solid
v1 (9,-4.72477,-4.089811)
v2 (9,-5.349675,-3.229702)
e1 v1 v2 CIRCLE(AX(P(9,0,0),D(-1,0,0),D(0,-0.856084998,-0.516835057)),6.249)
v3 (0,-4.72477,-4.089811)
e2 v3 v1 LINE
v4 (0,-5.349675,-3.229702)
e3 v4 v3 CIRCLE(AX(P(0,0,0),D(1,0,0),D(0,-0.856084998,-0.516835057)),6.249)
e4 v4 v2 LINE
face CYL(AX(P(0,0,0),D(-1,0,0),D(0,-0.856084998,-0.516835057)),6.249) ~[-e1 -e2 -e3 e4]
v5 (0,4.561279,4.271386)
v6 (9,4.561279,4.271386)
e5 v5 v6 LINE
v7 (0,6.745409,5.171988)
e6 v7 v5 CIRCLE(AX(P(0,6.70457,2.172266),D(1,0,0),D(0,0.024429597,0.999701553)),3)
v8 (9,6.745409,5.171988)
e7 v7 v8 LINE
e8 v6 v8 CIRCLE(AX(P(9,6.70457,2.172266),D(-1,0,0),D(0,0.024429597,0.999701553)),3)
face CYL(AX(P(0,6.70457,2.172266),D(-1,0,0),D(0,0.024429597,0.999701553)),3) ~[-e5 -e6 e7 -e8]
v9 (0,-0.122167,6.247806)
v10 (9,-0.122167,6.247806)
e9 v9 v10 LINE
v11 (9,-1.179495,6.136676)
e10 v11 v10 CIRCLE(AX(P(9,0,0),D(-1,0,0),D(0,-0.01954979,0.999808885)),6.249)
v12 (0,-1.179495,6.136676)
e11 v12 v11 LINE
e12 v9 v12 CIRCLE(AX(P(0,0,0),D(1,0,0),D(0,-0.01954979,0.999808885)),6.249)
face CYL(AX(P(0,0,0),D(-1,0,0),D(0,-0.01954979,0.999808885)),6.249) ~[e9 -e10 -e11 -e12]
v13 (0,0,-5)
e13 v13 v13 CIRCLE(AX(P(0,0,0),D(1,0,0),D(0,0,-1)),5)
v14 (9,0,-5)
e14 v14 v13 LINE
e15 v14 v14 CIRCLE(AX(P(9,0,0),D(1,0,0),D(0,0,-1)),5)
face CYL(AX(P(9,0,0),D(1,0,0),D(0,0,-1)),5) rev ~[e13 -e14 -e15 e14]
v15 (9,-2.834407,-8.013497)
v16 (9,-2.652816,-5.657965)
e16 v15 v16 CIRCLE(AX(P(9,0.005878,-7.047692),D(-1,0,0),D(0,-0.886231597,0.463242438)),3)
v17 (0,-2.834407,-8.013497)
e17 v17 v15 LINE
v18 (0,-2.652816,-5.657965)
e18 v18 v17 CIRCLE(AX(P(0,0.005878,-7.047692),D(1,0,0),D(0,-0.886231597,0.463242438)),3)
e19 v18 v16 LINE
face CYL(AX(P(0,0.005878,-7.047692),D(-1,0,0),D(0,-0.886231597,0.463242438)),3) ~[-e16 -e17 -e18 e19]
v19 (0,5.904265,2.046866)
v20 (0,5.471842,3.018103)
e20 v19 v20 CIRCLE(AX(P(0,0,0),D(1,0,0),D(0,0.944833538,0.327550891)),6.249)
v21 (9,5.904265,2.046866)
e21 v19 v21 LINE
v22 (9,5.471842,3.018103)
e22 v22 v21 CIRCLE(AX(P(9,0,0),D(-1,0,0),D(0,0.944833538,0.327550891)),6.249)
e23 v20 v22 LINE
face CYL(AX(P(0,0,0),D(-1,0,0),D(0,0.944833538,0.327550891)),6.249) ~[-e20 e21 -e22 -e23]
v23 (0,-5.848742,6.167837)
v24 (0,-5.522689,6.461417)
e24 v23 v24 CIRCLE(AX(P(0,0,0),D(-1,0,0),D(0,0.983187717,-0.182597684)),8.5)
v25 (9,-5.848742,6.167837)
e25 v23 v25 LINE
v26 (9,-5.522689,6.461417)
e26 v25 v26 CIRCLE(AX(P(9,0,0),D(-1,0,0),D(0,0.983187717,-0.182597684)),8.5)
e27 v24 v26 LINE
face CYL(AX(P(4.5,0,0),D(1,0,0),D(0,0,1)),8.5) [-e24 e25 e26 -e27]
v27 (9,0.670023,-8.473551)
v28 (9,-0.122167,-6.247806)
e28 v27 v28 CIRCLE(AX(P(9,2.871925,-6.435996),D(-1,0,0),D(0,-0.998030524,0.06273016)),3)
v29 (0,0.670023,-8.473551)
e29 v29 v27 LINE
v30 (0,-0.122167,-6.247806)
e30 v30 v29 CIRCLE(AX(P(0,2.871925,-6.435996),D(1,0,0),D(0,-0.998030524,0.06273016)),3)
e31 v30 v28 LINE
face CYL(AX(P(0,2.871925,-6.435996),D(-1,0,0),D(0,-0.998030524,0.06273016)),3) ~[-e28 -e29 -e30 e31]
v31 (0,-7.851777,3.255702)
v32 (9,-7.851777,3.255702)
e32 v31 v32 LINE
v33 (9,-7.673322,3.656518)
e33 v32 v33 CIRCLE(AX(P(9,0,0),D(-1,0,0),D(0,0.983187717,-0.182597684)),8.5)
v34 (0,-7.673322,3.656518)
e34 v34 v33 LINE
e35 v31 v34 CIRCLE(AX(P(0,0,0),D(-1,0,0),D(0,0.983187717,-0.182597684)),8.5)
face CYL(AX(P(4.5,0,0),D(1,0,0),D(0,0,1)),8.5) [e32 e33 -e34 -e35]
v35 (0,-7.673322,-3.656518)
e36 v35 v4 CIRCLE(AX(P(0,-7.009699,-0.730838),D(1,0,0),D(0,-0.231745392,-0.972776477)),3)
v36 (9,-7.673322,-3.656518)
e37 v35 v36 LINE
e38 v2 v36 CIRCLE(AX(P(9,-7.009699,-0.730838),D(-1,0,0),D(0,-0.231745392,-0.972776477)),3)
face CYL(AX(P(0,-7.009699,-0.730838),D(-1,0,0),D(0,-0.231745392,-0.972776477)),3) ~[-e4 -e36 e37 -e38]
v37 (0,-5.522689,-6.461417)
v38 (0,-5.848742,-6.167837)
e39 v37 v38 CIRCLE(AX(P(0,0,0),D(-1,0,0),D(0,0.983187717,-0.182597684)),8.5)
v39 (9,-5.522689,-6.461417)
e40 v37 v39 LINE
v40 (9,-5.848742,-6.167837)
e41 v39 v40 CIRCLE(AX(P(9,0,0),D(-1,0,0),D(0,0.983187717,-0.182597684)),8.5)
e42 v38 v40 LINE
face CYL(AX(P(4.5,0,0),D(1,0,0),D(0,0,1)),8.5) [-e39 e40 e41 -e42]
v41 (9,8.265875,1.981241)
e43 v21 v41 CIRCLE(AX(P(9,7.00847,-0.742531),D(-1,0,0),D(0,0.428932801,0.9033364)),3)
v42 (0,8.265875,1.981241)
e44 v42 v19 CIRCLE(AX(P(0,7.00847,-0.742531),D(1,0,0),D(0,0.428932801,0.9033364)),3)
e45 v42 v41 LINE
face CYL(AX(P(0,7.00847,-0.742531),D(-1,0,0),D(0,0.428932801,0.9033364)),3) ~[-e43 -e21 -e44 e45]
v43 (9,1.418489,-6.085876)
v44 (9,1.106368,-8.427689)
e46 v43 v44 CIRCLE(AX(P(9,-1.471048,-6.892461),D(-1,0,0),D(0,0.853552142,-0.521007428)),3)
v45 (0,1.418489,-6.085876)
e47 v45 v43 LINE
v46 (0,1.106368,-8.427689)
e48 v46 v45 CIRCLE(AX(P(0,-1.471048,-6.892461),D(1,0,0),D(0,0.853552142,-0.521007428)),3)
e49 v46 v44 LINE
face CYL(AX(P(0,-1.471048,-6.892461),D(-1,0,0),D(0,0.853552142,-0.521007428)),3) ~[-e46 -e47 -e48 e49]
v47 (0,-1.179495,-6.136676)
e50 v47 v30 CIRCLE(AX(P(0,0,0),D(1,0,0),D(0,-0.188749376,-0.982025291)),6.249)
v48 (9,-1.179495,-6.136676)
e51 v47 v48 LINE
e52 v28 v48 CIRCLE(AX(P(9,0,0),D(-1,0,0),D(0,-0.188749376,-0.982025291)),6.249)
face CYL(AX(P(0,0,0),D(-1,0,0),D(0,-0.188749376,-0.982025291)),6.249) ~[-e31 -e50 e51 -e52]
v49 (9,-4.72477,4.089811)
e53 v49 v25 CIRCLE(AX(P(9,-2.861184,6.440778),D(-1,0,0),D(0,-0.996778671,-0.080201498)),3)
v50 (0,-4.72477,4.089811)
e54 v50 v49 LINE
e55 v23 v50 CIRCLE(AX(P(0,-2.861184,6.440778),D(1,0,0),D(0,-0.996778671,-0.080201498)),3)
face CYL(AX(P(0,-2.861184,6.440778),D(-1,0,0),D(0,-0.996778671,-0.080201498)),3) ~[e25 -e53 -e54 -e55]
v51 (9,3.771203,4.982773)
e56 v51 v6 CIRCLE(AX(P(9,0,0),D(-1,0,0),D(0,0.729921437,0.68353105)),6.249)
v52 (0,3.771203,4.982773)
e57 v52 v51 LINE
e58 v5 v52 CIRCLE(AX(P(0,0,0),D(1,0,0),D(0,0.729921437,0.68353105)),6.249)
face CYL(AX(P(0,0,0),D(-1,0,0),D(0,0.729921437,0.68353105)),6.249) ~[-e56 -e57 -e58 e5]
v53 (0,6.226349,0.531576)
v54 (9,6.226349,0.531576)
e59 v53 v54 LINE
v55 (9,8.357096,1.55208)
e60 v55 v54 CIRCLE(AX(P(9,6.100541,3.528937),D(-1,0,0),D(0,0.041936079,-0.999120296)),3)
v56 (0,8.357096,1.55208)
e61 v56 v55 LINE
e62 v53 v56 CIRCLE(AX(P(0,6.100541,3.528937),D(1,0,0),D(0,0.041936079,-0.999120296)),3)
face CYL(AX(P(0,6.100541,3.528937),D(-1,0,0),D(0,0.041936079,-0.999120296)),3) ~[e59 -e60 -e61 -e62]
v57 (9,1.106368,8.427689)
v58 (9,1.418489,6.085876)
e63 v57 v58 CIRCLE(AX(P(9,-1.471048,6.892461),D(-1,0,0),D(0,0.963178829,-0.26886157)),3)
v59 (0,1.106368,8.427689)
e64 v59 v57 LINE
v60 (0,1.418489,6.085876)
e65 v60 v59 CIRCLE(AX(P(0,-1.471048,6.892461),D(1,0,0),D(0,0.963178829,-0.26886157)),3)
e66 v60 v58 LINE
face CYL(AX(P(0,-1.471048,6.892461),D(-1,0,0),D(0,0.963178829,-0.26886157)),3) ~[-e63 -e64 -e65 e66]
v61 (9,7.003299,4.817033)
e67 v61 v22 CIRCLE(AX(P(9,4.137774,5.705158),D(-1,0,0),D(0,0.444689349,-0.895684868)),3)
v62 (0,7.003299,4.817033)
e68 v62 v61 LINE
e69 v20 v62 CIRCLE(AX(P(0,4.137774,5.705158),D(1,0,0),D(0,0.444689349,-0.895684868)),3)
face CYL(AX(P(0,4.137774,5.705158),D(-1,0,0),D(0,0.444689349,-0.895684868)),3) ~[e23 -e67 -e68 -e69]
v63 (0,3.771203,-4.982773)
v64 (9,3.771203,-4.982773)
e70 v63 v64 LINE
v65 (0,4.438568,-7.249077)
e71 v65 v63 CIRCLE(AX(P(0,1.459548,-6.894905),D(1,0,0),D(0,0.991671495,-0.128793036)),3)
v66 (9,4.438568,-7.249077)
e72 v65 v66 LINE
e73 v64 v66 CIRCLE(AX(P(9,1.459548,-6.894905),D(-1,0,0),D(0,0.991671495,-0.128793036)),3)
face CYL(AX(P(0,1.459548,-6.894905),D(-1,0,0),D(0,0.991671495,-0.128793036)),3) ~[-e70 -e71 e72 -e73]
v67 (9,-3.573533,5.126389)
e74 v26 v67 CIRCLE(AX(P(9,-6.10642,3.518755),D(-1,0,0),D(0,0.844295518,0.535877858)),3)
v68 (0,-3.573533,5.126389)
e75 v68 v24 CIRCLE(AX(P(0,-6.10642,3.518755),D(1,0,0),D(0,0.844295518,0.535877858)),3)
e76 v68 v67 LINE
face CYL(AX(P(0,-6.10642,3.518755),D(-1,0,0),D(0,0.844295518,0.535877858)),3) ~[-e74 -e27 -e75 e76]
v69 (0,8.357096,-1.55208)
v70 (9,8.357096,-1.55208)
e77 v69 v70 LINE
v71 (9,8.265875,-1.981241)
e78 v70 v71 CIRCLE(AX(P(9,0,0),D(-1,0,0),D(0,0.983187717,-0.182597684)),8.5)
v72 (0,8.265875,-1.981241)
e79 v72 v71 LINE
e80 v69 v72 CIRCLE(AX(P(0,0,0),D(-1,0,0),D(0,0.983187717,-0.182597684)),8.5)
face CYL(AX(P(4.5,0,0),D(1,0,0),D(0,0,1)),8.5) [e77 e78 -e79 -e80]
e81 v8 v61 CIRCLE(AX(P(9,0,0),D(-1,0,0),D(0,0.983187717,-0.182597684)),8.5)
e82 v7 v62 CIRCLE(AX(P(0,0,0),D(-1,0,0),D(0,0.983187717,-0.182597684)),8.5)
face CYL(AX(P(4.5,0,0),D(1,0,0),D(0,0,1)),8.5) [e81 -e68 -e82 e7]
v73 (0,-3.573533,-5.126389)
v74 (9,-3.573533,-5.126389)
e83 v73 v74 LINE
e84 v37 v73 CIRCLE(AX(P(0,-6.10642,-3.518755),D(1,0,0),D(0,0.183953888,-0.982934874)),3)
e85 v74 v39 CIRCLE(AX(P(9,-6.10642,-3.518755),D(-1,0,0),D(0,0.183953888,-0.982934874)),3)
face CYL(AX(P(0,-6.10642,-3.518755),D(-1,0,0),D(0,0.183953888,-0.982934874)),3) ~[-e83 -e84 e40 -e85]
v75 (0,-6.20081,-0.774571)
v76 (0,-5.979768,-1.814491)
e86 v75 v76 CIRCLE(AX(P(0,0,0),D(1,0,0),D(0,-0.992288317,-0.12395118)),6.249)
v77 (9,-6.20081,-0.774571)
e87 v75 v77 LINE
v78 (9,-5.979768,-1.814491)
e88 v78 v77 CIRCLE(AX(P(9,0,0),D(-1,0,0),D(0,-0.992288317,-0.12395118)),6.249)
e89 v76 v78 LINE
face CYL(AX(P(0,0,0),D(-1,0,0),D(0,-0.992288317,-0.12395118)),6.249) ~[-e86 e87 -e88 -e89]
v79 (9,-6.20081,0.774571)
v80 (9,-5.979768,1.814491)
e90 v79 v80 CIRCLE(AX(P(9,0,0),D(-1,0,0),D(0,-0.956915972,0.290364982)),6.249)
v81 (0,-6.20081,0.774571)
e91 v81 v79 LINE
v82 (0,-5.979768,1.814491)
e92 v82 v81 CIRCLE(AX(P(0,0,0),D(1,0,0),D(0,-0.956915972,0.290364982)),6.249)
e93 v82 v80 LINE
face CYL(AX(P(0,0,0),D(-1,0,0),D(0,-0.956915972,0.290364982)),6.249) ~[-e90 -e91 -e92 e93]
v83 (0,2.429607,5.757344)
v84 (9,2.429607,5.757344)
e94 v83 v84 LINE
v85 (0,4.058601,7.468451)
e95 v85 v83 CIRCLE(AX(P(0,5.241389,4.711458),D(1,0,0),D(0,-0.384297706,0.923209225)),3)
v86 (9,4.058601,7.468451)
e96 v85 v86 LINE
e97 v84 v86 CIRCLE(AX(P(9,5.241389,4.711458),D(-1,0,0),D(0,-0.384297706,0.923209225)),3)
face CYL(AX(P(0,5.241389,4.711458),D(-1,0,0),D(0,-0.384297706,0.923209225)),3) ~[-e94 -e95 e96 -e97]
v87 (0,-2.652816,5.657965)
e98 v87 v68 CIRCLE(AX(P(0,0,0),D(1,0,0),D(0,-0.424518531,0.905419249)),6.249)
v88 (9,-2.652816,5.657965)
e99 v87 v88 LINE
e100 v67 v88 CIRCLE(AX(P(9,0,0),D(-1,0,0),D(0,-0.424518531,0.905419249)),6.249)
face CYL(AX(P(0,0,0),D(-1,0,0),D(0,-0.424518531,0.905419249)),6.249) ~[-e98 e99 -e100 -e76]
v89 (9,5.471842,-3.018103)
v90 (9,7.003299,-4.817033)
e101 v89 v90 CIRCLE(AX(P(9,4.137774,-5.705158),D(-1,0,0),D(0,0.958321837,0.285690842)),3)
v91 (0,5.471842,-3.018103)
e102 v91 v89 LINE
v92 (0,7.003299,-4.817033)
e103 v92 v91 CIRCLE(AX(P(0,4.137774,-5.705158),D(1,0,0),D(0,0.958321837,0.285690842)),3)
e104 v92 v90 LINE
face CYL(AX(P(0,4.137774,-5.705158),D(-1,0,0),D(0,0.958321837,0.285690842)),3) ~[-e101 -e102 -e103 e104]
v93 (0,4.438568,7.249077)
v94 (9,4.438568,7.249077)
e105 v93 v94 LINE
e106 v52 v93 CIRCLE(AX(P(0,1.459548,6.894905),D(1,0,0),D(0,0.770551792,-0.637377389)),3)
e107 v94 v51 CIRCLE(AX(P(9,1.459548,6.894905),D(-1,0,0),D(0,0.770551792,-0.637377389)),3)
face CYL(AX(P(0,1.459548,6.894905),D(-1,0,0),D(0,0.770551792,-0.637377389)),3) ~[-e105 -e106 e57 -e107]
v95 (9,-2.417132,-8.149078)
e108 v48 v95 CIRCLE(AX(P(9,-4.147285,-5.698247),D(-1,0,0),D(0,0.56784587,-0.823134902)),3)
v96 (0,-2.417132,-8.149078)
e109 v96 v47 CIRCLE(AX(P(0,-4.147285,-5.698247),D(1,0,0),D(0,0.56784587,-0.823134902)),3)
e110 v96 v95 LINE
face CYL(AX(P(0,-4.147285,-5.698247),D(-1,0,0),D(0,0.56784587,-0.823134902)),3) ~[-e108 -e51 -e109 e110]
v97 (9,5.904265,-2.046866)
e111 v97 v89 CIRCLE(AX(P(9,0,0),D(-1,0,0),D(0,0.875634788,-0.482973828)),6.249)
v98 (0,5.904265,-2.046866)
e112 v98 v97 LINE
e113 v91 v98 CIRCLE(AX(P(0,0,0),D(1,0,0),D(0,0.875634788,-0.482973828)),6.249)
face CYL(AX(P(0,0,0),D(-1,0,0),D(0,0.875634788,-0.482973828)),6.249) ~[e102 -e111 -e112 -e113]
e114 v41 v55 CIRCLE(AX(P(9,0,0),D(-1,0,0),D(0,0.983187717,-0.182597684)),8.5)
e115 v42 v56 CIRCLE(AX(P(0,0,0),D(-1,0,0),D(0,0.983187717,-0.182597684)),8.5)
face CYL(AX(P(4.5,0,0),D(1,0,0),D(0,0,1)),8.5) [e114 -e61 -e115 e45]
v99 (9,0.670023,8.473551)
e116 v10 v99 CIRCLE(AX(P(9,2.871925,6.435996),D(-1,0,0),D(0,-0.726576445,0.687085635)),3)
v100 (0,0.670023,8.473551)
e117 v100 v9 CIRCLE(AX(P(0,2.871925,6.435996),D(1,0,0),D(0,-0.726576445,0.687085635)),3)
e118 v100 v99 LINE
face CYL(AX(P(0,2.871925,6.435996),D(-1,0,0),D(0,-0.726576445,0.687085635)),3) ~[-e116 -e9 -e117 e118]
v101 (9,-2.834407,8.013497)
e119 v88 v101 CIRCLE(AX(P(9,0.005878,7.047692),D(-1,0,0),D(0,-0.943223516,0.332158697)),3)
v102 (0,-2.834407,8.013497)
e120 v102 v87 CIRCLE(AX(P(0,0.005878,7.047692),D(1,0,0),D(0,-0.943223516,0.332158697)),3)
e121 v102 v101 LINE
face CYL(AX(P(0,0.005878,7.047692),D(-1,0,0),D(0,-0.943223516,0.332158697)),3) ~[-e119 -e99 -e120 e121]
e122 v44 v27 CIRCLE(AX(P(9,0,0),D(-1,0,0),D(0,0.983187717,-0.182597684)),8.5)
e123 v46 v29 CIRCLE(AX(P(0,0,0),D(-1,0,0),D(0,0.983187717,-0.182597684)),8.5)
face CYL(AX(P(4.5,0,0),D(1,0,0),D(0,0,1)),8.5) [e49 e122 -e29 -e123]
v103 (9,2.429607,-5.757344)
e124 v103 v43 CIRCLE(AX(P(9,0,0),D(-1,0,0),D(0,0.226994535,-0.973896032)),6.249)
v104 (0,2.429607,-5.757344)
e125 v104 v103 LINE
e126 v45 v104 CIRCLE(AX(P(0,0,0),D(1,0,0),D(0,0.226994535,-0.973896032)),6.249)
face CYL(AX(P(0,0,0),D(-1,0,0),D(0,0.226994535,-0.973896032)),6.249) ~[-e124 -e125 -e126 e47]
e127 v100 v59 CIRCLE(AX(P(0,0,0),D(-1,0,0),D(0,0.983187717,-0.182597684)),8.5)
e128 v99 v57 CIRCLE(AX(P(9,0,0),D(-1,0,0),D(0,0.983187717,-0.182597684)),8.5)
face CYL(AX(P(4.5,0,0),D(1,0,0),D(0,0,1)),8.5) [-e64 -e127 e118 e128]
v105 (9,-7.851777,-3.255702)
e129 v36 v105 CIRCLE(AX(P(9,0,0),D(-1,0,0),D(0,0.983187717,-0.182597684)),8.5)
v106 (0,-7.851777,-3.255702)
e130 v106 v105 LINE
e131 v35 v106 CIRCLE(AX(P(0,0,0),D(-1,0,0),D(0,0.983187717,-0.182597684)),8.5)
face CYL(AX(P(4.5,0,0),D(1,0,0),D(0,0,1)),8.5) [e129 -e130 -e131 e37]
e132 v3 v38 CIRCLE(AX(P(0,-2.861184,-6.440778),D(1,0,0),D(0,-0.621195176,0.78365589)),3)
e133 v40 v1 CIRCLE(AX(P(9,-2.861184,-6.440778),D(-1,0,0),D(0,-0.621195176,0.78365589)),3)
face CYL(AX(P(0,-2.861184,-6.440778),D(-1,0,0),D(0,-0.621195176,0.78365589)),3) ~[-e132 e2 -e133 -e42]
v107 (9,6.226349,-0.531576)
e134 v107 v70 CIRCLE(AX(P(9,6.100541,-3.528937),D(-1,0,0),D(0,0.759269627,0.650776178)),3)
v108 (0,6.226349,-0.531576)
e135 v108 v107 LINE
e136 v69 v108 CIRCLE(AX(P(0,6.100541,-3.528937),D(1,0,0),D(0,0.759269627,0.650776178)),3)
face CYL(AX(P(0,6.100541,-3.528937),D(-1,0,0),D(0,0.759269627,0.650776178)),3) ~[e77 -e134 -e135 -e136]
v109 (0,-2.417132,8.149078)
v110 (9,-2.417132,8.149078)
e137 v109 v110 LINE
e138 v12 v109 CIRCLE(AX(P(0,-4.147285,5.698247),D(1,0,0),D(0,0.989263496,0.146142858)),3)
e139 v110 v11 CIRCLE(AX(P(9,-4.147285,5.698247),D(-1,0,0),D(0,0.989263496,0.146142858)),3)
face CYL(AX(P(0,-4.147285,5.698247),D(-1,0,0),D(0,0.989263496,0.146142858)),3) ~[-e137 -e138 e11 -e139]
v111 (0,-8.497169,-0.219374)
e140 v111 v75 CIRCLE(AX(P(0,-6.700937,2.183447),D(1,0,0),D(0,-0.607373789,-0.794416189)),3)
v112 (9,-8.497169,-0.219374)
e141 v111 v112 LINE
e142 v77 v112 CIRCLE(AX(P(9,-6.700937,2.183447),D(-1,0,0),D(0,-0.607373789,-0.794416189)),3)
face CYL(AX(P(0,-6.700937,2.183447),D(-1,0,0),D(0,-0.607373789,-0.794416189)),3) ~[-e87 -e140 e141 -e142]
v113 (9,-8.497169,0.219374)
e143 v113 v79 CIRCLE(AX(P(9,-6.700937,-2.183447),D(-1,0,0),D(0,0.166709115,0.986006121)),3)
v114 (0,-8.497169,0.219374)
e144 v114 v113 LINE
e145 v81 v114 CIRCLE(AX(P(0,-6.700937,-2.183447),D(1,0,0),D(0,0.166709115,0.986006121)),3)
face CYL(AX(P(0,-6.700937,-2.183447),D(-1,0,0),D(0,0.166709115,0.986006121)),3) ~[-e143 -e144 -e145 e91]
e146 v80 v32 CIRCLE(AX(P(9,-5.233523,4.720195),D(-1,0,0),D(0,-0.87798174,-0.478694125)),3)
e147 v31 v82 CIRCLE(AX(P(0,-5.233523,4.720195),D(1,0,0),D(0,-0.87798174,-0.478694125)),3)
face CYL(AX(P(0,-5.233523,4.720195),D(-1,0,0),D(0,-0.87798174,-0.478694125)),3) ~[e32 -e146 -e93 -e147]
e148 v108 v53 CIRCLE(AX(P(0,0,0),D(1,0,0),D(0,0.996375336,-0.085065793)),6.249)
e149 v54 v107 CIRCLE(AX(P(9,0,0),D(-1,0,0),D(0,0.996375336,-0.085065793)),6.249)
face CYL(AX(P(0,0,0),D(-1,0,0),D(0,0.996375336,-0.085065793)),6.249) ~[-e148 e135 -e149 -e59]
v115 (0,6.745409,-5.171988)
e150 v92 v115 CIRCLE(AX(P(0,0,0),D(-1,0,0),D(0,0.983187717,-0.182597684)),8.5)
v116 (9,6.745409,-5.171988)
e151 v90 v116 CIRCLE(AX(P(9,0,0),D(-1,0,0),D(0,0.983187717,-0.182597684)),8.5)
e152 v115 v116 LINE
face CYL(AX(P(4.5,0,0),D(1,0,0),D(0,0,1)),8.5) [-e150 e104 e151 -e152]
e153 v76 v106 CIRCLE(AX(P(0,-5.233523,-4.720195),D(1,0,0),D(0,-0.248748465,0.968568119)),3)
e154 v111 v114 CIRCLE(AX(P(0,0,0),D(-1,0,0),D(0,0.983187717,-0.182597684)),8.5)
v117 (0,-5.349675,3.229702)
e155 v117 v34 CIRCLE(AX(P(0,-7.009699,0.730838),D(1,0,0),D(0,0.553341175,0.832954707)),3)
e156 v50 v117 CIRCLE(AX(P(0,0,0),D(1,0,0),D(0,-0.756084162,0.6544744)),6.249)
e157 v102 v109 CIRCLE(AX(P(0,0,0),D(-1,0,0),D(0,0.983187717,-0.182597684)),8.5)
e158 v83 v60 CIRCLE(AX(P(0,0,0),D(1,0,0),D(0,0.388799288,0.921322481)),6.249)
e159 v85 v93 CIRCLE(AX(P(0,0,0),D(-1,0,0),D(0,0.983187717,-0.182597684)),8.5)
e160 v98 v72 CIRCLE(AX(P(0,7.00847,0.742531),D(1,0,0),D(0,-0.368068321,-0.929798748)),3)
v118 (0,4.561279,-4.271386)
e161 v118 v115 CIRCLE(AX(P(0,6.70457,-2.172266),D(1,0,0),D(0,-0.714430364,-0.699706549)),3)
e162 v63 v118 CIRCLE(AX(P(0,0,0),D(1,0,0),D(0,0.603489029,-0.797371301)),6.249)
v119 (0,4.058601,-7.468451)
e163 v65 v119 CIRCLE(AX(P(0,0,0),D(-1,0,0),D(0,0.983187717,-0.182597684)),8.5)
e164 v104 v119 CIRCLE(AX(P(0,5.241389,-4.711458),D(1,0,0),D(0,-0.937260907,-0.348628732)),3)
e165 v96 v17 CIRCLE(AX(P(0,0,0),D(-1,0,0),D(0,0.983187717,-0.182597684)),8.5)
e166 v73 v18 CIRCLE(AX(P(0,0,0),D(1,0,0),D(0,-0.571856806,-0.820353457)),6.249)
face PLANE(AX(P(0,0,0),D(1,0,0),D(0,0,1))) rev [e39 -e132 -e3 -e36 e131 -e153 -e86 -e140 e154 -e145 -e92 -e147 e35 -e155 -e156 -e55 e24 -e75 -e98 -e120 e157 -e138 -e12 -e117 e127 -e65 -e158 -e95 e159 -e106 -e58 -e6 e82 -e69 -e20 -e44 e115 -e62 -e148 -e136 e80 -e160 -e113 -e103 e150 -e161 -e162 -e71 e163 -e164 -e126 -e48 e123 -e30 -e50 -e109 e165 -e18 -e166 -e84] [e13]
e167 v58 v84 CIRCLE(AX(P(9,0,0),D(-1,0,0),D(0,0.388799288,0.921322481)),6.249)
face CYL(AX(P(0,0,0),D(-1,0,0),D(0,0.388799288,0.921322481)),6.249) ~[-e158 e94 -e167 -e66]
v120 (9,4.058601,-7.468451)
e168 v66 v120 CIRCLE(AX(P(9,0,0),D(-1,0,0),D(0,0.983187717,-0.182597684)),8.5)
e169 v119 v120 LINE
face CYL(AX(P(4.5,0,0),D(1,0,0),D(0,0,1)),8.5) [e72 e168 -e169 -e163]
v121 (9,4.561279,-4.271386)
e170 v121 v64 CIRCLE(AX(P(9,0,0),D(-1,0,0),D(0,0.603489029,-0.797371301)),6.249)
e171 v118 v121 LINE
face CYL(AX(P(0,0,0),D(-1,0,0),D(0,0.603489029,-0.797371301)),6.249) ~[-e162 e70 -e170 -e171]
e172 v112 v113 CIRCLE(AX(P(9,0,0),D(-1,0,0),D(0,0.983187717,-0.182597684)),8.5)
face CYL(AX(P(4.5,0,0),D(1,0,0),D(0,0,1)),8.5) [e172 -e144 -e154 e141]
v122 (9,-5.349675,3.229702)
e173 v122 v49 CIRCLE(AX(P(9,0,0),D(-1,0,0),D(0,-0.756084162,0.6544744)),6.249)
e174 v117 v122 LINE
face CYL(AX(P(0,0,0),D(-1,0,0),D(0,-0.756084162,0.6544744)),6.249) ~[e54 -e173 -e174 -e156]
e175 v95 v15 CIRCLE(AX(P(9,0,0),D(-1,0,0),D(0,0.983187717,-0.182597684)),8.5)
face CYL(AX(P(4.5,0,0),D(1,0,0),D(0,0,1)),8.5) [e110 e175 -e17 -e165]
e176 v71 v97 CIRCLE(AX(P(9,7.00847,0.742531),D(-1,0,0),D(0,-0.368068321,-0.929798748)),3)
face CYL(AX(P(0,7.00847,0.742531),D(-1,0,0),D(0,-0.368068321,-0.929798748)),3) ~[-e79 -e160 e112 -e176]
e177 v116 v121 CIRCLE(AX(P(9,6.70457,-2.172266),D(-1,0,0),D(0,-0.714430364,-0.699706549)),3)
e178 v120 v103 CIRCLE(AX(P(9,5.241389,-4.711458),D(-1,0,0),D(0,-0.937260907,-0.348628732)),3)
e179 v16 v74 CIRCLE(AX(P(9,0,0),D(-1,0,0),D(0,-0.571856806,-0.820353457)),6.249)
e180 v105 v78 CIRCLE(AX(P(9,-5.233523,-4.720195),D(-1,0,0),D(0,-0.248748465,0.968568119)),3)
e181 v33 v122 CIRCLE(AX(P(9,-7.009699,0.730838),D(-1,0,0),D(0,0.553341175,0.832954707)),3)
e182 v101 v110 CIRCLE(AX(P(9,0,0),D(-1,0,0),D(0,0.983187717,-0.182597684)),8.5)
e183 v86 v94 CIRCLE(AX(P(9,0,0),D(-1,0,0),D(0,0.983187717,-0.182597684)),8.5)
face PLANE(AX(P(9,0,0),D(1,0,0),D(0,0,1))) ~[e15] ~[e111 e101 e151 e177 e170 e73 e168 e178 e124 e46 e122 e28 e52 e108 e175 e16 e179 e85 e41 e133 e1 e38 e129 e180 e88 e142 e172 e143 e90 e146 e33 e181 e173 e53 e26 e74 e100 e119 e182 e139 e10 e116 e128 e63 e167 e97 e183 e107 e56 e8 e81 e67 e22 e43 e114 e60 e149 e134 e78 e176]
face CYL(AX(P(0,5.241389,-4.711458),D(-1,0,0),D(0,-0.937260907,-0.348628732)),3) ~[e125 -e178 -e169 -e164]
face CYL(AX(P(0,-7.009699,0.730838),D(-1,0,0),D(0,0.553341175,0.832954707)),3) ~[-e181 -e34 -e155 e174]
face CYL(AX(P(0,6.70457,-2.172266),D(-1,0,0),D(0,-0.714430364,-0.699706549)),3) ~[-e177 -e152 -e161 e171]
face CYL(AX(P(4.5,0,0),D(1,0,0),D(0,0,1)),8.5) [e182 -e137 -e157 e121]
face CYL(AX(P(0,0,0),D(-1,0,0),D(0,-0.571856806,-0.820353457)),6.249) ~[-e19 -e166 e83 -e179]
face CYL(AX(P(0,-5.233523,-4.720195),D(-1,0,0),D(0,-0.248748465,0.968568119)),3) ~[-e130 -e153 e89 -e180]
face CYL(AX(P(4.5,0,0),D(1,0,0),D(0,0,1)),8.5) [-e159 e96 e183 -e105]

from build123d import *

# Parameters (mm, degrees)
BASPROSKE_W        = 9
BASPROSKE_H        = 8.5
TOOTHCUT_DEPTH     = 16.016657418
TEETHCUTS_COUNT    = 15
TEETHCUTS_ANGLE    = 336
BORSKE_R           = 3
BORE_DEPTH         = 50.0000508
SKETCH1_R          = 5
CUT_EXTRUDE1_DEPTH = 9


with BuildPart() as part:
    # BasProSke → Base-Revolve (revolve)
    with BuildSketch(Plane(origin=(0, 0, 0), x_dir=(1, 0, 0), z_dir=(0, 1, 0)), mode=Mode.PRIVATE) as base_revolve_sk:
        with Locations((4.5, 4.25)):
            Rectangle(BASPROSKE_W, BASPROSKE_H)
    revolve(base_revolve_sk.sketch.rotate(Axis((-10, 0, 0), (1, 0, 0)), 180), axis=Axis((-10, 0, 0), (1, 0, 0)))

    # TooCutSke → ToothCut (cut, through all)
    with BuildSketch(Plane(origin=(0, 0, 0), x_dir=(0, 0, -1), z_dir=(1, 0, 0))):
        with BuildLine():
            ThreePointArc((0.531576138, 6.226349477), (0, 6.249), (-0.531576138, 6.226349477))
            ThreePointArc((-0.531576138, 6.226349477), (-0.830301624, 7.411024729), (-1.576608494, 8.378350125))
            ThreePointArc((-1.576608494, 8.378350125), (0, 8.5254), (1.576608494, 8.378350125))
            ThreePointArc((1.576608494, 8.378350125), (0.830301624, 7.411024729), (0.531576138, 6.226349477))
        make_face()
    toothcut = extrude(amount=TOOTHCUT_DEPTH, mode=Mode.SUBTRACT)

    # TeethCuts: ToothCut ×15 about axis
    teethcuts_axis = Axis((-10, 0, 0), (1, 0, 0))
    for i in range(1, TEETHCUTS_COUNT):
        add(toothcut.rotate(teethcuts_axis, i * TEETHCUTS_ANGLE / (TEETHCUTS_COUNT - 1)), mode=Mode.SUBTRACT)

    # BorSke → Bore (cut, symmetric)
    with BuildSketch(Plane(origin=(0, 0, 0), x_dir=(0, 0, -1), z_dir=(1, 0, 0))):
        with Locations(Location((0, 0, 0), (0, 0, 180))):
            Circle(BORSKE_R)
    extrude(amount=BORE_DEPTH, both=True, mode=Mode.SUBTRACT)

    # Sketch1 → Cut-Extrude1 (cut)
    with BuildSketch(Plane(origin=(9, 0, 0), x_dir=(0, 0, -1), z_dir=(1, 0, 0))):
        Circle(SKETCH1_R)
    extrude(amount=-CUT_EXTRUDE1_DEPTH, mode=Mode.SUBTRACT)


solid = part.part
